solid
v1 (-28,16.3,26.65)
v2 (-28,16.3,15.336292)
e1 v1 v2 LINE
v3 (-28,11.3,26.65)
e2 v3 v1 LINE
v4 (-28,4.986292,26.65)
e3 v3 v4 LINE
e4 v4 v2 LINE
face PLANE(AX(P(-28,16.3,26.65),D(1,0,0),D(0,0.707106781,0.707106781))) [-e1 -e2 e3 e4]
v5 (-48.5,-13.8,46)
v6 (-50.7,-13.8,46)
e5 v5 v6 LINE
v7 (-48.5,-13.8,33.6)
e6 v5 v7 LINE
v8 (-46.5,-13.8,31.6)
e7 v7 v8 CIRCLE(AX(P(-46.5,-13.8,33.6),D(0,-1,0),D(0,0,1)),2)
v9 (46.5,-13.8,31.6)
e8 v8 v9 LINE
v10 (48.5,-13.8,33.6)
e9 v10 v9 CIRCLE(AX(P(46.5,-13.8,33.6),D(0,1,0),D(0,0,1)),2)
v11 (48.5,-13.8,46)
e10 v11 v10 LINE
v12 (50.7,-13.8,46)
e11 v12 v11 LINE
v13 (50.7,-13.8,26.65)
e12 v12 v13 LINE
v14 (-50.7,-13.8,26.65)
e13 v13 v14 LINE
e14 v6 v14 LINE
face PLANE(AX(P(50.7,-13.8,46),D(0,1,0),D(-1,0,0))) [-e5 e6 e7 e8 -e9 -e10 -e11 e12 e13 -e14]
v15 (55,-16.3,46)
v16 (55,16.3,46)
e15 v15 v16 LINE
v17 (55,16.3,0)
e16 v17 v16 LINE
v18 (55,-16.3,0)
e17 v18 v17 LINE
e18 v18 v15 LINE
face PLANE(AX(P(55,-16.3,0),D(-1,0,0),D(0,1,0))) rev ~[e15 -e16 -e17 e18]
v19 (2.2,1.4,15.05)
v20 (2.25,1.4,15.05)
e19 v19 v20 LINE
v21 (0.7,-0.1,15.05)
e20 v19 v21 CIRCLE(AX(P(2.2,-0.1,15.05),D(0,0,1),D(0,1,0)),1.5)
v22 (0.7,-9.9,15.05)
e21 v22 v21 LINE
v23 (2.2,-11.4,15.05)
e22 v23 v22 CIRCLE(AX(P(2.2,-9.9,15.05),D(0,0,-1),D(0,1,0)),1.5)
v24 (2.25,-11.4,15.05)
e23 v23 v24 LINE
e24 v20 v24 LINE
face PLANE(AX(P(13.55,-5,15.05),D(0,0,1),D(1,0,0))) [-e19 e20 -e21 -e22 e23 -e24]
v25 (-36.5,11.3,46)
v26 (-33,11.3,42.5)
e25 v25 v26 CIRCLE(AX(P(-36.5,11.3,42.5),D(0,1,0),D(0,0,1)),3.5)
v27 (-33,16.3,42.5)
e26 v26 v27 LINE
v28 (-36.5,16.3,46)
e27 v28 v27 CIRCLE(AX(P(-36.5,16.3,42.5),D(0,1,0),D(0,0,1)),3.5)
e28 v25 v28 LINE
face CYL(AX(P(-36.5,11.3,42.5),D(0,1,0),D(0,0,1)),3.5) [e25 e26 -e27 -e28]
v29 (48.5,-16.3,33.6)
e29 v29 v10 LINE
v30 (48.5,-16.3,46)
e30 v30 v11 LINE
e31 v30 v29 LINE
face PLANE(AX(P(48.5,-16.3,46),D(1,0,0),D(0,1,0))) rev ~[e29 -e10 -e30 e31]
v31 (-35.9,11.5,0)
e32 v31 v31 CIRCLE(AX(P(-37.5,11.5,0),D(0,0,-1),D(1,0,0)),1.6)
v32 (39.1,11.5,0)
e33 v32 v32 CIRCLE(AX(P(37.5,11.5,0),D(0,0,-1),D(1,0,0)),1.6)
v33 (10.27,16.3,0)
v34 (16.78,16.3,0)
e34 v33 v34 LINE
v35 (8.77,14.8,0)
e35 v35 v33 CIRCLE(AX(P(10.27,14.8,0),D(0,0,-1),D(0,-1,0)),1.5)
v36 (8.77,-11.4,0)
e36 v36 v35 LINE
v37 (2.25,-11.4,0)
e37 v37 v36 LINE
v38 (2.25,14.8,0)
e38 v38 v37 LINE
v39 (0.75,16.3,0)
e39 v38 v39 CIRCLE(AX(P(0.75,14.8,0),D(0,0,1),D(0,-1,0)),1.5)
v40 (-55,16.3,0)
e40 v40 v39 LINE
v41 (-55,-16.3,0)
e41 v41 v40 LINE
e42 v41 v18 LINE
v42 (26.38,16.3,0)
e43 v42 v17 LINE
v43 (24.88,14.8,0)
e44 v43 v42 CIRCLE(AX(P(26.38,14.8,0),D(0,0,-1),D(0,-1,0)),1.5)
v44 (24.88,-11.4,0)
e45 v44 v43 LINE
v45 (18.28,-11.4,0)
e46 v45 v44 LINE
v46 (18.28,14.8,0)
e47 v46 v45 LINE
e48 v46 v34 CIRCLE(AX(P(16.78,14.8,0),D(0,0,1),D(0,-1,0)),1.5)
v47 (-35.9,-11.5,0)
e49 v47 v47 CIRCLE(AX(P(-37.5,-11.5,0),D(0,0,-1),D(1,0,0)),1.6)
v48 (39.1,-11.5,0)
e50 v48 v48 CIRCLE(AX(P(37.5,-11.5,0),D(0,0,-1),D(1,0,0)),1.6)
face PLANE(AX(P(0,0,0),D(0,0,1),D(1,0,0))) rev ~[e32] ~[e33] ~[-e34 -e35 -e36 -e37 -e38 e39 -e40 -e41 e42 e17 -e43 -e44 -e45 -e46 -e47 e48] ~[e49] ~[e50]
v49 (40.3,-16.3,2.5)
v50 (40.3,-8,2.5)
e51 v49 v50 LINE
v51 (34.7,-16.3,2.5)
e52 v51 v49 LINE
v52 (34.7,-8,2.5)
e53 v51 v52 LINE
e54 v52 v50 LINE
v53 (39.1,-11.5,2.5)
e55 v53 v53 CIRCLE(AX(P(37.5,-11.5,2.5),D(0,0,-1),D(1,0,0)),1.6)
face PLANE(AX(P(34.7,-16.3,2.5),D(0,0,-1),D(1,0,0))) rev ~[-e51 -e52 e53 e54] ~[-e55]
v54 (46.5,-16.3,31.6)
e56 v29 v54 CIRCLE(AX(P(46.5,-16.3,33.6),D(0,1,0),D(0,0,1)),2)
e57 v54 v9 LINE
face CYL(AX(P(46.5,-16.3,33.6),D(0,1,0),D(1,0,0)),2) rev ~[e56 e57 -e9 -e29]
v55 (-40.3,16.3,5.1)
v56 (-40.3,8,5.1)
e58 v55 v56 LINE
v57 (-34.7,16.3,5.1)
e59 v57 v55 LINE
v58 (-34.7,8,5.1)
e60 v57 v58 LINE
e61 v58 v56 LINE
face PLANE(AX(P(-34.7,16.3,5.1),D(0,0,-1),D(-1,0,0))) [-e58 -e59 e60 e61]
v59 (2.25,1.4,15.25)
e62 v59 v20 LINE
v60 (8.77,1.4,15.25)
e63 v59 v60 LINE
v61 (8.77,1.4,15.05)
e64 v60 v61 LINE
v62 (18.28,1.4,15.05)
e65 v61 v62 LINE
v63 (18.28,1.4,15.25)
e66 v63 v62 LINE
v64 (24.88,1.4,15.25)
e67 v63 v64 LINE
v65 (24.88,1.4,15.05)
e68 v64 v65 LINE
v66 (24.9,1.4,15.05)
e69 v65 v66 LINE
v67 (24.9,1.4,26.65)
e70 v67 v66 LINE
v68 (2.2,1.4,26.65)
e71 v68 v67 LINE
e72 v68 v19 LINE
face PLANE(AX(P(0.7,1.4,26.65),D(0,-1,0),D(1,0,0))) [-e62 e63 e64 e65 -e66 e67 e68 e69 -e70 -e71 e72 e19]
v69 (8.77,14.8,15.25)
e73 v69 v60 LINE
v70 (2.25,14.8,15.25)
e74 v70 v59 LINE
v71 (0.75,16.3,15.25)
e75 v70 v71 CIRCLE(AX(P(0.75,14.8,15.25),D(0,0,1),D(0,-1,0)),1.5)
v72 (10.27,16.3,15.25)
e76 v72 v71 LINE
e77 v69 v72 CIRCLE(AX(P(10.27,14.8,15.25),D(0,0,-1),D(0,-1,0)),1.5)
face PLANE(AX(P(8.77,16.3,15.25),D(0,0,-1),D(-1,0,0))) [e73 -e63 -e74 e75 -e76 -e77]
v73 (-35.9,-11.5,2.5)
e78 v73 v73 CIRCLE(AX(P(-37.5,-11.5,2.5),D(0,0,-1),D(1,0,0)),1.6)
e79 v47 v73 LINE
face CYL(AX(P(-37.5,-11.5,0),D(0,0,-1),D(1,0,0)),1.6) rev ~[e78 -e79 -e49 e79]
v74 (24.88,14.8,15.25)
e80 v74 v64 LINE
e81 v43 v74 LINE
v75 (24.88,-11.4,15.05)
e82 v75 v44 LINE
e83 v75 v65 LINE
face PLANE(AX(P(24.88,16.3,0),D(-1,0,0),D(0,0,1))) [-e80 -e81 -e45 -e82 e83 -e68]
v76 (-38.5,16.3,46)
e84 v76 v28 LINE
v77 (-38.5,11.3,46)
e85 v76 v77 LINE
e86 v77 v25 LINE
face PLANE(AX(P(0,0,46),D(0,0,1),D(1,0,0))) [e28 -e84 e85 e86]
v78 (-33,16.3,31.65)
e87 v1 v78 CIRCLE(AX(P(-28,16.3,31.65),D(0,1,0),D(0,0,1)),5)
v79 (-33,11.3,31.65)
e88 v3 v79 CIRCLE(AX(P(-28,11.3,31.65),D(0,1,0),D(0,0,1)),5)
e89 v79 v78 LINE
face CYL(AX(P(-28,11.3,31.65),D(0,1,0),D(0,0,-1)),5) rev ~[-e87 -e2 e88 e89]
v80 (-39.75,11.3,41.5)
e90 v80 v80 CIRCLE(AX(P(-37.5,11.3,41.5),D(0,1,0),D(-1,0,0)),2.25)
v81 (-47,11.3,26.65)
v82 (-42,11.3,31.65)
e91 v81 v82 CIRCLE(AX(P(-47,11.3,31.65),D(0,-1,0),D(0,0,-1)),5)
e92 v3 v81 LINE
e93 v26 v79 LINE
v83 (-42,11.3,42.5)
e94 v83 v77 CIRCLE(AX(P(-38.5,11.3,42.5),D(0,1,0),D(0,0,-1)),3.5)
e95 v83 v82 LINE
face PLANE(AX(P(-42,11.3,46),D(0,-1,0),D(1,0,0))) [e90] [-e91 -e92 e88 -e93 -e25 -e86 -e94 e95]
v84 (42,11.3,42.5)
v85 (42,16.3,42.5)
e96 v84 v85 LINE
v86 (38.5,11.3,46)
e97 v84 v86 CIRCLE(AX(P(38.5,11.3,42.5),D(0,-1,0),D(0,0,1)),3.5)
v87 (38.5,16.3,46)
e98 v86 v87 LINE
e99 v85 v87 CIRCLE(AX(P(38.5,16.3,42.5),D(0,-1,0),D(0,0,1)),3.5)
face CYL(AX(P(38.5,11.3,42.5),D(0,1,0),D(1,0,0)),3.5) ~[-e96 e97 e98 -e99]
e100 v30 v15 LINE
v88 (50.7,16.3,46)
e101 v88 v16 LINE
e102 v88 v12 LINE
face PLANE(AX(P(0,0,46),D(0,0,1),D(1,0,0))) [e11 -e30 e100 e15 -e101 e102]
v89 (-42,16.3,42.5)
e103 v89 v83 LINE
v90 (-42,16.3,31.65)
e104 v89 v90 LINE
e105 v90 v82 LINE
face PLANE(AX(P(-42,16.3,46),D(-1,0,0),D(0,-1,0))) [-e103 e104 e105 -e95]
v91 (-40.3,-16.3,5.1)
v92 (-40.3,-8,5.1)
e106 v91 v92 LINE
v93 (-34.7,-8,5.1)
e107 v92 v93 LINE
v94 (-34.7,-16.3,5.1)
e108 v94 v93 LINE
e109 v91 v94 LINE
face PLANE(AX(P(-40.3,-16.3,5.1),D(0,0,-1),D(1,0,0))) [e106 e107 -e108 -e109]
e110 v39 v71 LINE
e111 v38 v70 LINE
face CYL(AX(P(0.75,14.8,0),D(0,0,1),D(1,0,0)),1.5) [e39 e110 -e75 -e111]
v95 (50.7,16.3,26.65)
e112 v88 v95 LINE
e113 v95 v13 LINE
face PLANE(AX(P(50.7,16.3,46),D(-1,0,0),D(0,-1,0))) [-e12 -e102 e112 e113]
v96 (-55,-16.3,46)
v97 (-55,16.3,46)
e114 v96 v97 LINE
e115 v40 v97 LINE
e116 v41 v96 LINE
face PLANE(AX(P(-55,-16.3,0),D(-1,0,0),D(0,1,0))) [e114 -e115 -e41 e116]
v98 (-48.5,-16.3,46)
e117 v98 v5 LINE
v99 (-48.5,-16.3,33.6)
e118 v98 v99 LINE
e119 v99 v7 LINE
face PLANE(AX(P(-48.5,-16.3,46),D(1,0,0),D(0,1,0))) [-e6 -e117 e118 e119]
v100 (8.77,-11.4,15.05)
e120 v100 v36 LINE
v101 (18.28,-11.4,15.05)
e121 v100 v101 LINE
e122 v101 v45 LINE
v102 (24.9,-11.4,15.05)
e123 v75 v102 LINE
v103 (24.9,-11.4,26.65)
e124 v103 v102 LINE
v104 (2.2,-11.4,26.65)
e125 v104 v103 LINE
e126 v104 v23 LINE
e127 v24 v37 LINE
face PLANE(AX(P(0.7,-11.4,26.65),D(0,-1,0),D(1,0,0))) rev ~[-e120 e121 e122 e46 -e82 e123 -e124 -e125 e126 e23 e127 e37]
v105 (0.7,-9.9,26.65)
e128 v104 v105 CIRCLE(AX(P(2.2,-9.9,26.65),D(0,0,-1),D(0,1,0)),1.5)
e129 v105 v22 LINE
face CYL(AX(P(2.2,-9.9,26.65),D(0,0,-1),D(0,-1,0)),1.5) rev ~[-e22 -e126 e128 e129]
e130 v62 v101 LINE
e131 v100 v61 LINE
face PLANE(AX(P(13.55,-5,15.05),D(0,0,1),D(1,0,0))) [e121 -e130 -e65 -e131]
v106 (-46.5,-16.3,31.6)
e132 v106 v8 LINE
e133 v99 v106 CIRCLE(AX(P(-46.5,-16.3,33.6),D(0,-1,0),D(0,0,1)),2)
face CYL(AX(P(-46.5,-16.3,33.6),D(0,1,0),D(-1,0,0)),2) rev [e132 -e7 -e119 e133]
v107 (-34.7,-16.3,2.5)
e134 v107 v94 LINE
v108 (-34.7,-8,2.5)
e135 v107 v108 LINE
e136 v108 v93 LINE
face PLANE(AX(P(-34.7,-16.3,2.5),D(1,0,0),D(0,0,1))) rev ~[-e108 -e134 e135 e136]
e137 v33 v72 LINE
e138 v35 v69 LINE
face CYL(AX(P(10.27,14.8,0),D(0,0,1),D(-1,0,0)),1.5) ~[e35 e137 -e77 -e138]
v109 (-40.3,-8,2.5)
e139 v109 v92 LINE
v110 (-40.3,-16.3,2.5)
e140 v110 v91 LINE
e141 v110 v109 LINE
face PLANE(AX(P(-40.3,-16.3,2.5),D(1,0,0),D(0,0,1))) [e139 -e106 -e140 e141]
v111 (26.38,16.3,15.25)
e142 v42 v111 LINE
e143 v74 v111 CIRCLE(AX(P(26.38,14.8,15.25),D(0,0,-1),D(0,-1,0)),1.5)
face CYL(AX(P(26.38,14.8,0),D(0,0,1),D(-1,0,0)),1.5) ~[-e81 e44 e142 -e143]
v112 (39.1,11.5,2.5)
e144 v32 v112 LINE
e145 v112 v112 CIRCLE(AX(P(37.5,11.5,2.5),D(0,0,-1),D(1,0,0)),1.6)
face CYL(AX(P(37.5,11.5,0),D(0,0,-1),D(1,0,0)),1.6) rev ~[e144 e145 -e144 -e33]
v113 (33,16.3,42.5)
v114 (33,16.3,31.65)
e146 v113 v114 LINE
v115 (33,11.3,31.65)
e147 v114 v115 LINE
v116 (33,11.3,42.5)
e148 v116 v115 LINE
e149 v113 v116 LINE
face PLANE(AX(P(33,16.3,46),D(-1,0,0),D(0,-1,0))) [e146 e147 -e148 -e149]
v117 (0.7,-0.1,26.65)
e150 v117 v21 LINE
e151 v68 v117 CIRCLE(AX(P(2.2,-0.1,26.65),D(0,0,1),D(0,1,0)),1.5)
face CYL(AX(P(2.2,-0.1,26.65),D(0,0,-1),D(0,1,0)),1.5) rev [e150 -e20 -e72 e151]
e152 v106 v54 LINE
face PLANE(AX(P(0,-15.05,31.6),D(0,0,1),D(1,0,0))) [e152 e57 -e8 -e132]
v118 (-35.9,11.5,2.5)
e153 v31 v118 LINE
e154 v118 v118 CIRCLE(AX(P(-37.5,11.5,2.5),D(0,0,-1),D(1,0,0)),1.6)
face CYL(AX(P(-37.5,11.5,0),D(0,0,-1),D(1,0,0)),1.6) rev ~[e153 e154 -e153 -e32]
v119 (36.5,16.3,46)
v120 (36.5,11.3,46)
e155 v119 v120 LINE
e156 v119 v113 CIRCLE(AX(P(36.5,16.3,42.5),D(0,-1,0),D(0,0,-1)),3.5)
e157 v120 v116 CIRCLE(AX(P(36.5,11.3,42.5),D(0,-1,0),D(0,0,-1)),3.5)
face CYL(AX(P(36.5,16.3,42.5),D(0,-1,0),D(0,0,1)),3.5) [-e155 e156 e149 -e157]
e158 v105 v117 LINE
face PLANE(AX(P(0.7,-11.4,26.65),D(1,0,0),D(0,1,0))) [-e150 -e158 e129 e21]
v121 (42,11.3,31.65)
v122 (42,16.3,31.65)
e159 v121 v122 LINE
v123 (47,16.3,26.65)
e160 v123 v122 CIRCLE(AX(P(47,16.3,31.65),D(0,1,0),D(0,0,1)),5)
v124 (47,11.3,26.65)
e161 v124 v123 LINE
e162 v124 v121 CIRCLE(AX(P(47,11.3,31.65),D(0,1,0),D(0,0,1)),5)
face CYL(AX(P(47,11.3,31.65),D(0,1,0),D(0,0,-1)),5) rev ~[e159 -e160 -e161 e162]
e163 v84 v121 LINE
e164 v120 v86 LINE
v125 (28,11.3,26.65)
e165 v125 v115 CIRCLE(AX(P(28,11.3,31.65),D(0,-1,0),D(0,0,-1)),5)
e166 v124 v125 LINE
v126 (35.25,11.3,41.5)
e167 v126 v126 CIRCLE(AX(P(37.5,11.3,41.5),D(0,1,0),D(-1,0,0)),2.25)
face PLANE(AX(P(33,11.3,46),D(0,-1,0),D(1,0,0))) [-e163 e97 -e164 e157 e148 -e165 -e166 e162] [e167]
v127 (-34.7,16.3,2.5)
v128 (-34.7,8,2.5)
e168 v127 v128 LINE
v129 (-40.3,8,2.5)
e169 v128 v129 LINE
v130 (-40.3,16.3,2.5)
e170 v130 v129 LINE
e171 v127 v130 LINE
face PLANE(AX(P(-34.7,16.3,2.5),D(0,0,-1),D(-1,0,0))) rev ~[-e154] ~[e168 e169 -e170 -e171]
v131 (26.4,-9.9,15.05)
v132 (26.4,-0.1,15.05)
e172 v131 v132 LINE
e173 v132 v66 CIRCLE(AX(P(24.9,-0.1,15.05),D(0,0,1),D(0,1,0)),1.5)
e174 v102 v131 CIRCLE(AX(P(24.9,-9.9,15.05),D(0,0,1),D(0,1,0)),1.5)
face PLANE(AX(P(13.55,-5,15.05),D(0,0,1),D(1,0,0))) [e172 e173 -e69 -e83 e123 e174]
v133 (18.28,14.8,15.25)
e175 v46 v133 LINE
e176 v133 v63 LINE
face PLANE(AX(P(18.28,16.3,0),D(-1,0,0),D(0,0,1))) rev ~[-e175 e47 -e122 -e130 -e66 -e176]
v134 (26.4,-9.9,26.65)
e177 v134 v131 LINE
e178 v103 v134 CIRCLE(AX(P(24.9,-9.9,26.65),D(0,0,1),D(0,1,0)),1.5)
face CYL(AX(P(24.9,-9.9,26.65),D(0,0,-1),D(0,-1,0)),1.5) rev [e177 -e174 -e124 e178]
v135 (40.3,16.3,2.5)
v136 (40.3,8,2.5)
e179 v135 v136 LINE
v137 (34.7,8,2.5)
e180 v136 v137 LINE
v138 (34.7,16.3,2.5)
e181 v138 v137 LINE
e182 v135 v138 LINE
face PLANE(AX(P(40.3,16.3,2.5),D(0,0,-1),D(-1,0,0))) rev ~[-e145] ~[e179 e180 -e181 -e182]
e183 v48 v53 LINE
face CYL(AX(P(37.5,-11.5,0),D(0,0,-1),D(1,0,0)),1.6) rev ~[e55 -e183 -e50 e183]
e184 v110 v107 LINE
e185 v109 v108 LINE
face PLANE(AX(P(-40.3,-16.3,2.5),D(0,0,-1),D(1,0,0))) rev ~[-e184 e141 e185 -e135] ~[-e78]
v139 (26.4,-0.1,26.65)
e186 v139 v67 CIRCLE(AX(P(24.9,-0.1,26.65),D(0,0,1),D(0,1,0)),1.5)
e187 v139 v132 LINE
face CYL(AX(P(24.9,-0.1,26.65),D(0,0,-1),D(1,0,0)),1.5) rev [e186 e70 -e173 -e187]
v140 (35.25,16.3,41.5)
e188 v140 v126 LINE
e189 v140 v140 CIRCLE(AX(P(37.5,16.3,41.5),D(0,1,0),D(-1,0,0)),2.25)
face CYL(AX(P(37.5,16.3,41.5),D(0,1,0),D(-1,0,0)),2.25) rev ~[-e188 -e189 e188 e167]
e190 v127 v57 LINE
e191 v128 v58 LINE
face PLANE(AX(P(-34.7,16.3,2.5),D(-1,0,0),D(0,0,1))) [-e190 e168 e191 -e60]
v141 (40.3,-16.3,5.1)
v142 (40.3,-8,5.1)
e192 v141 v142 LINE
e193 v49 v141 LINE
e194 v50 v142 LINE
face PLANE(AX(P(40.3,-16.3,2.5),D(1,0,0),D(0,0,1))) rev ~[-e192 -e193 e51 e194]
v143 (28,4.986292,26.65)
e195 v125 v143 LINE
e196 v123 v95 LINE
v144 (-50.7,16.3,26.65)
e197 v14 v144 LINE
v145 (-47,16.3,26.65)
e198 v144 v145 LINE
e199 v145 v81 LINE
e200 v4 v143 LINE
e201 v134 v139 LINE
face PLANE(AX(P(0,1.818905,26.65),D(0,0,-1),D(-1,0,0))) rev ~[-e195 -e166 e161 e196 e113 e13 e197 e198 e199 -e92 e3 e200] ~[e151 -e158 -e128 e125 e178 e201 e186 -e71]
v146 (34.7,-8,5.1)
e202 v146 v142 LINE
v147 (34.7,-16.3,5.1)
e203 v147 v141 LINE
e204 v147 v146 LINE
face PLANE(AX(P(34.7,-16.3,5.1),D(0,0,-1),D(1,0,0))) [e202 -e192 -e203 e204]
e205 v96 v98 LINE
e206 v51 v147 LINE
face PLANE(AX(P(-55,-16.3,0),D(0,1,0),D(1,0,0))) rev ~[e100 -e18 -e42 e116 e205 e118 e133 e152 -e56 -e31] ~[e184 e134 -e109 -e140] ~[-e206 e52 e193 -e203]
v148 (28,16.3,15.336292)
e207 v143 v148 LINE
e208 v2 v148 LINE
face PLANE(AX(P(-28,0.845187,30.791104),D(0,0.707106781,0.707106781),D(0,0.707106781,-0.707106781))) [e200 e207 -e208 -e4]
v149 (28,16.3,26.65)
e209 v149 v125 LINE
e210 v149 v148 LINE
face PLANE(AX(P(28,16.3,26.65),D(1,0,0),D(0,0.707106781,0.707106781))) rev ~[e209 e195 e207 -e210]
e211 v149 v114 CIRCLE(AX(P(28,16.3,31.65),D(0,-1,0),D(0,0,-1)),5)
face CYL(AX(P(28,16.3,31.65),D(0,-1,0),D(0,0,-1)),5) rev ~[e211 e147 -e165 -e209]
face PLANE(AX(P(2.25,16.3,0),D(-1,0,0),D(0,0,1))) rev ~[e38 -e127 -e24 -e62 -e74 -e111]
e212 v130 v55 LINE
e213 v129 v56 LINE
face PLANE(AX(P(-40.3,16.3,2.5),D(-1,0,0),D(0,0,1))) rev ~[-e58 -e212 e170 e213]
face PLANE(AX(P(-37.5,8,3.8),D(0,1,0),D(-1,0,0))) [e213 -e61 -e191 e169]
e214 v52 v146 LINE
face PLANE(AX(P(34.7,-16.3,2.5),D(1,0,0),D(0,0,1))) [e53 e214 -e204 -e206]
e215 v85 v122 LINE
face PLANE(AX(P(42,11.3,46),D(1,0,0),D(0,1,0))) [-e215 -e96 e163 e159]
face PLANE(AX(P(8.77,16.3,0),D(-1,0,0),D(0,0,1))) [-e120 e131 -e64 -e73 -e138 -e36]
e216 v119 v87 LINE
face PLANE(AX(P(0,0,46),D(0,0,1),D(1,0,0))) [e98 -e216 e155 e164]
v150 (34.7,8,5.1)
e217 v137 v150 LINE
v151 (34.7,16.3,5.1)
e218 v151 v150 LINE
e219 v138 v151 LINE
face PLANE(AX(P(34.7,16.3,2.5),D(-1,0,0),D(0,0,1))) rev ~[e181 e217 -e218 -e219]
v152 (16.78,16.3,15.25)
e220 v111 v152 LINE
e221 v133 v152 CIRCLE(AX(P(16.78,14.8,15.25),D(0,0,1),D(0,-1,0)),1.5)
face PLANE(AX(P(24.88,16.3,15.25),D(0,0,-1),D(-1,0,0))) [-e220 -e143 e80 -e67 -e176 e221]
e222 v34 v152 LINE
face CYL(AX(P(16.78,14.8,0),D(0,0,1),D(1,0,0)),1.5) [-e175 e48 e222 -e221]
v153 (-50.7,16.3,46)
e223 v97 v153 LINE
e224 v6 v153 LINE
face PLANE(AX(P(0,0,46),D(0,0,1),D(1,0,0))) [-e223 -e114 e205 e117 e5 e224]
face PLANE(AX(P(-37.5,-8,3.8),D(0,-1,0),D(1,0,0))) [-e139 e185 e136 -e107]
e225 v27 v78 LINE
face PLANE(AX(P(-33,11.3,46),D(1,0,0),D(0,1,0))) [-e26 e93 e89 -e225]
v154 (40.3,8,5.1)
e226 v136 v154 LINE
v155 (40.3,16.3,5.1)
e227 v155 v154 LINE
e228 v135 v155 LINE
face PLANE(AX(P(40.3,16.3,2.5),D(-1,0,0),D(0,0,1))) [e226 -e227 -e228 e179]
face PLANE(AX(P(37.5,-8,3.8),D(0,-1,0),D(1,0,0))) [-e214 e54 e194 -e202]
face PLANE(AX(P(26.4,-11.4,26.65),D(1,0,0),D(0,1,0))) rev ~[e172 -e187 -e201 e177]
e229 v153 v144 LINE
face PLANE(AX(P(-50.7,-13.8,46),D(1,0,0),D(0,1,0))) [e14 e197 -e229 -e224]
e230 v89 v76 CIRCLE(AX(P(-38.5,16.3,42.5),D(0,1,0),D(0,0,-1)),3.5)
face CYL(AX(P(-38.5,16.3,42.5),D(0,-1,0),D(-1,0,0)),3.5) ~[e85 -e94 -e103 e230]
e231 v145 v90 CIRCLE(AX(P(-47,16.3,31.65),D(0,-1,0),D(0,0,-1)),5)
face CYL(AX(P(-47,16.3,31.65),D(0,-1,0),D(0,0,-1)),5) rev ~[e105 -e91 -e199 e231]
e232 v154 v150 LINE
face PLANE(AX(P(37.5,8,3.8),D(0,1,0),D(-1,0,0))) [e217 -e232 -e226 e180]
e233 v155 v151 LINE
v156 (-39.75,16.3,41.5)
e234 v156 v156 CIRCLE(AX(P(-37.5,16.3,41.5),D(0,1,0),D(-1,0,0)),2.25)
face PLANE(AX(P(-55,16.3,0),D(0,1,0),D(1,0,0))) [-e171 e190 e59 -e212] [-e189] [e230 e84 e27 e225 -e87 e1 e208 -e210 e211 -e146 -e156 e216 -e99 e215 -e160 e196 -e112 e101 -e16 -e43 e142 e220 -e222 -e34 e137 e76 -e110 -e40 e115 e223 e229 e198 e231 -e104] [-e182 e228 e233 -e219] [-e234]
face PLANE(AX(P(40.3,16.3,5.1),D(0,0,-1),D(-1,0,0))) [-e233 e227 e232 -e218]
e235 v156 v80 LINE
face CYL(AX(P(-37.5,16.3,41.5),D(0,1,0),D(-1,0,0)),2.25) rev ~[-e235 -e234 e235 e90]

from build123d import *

# Parameters (mm, degrees)
SKETCH028_W     = 110
SKETCH028_H     = 32.6
PAD019_DEPTH    = 46
POCKET009_DEPTH = 19.35
SKETCH030_R     = 2.25
POCKET010_DEPTH = 5
FILLET008_R     = 3.5
SKETCH031_W     = 97
SKETCH031_H     = 2.5
POCKET011_DEPTH = 14.4
FILLET009_R     = 2
FILLET010_R     = 5
SKETCH032_W     = 25.7
SKETCH032_H     = 12.8
POCKET012_DEPTH = 11.6
SKETCH033_W     = 6.52
SKETCH033_H     = 12.8
SKETCH033_W_2   = 6.6
POCKET013_DEPTH = 22
SKETCH034_W     = 6.6
SKETCH034_H     = 15.25
SKETCH034_W_2   = 6.52
POCKET014_DEPTH = 17.55
FILLET011_R     = 1.5
SKETCH035_R     = 1.6
POCKET015_DEPTH = 5
SKETCH036_W     = 5.6
SKETCH036_H     = 2.6
POCKET016_DEPTH = 8.3
SKETCH037_W     = 5.6
SKETCH037_H     = 2.6
POCKET017_DEPTH = 8.3
PRISM_DEPTH     = 56


with BuildPart() as part:
    # Sketch028 → Pad019 (new body)
    with BuildSketch(Plane.XY):
        Rectangle(SKETCH028_W, SKETCH028_H)
    extrude(amount=PAD019_DEPTH)

    # Sketch029 (on Face6 of Pad019) → Pocket009 (cut)
    with BuildSketch(Plane.XY.offset(46)):
        Polygon((-50.7, 16.3), (-42, 16.3), (-42, 11.3), (-33, 11.3), (-33, 16.3), (33, 16.3), (33, 11.3), (42, 11.3), (42, 16.3), (50.7, 16.3), (50.7, -13.8), (-50.7, -13.8), align=None)
    extrude(amount=-POCKET009_DEPTH, mode=Mode.SUBTRACT)

    # Sketch030 (on Face1 of Pocket009) → Pocket010 (cut)
    with BuildSketch(Plane(origin=(0, 16.3, 0), x_dir=(-1, 0, 0), z_dir=(0, 1, 0))):
        with Locations((-37.5, 41.5)):
            Circle(SKETCH030_R)
        with Locations((37.5, 41.5)):
            Circle(SKETCH030_R)
    extrude(amount=-POCKET010_DEPTH, mode=Mode.SUBTRACT)

    # Fillet008
    fillet008_edges = [part.edges().sort_by_distance(p)[0] for p in [
        (33, 13.8, 46),
        (-33, 13.8, 46),
        (-42, 13.8, 46),
        (42, 13.8, 46),
    ]]
    fillet(fillet008_edges, radius=FILLET008_R)

    # Sketch031 (on Face8 of Fillet008) → Pocket011 (cut)
    with BuildSketch(Plane.XY.offset(46)):
        with Locations((0, -15.05)):
            Rectangle(SKETCH031_W, SKETCH031_H)
    extrude(amount=-POCKET011_DEPTH, mode=Mode.SUBTRACT)

    # Fillet009
    fillet009_edges = [part.edges().sort_by_distance(p)[0] for p in [
        (48.5, -15.05, 31.6),
        (-48.5, -15.05, 31.6),
    ]]
    fillet(fillet009_edges, radius=FILLET009_R)

    # Fillet010
    fillet010_edges = [part.edges().sort_by_distance(p)[0] for p in [
        (42, 13.8, 26.65),
        (-33, 13.8, 26.65),
        (33, 13.8, 26.65),
        (-42, 13.8, 26.65),
    ]]
    fillet(fillet010_edges, radius=FILLET010_R)

    # Sketch032 (on Face1 of Fillet010) → Pocket012 (cut)
    with BuildSketch(Plane.XY.offset(26.65)):
        with Locations((13.55, -5)):
            Rectangle(SKETCH032_W, SKETCH032_H)
    extrude(amount=-POCKET012_DEPTH, mode=Mode.SUBTRACT)

    # Sketch033 (on Face38 of Pocket012) → Pocket013 (cut)
    with BuildSketch(Plane.XY.offset(15.05)):
        with Locations((5.51, -5)):
            Rectangle(SKETCH033_W, SKETCH033_H)
        with Locations((21.58, -5)):
            Rectangle(SKETCH033_W_2, SKETCH033_H)
    extrude(amount=-POCKET013_DEPTH, mode=Mode.SUBTRACT)

    # Sketch034 (on Face2 of Pocket013) → Pocket014 (cut)
    with BuildSketch(Plane(origin=(0, 16.3, 0), x_dir=(-1, 0, 0), z_dir=(0, 1, 0))):
        with Locations((-21.58, 7.625)):
            Rectangle(SKETCH034_W, SKETCH034_H)
        with Locations((-5.51, 7.625)):
            Rectangle(SKETCH034_W_2, SKETCH034_H)
    extrude(amount=-POCKET014_DEPTH, mode=Mode.SUBTRACT)

    # Fillet011
    fillet011_edges = [part.edges().sort_by_distance(p)[0] for p in [
        (0.7, 1.4, 20.85),
        (26.4, -11.4, 20.85),
        (0.7, -11.4, 20.85),
        (26.4, 1.4, 20.85),
        (24.88, 16.3, 7.625),
        (18.28, 16.3, 7.625),
        (8.77, 16.3, 7.625),
        (2.25, 16.3, 7.625),
    ]]
    fillet(fillet011_edges, radius=FILLET011_R)

    # Sketch035 (on Face31 of Fillet011) → Pocket015 (cut)
    with BuildSketch(Plane(origin=(0, 0, 0), x_dir=(1, 0, 0), z_dir=(0, 0, -1))):
        with Locations((-37.5, 11.5)):
            Circle(SKETCH035_R)
        with Locations((-37.5, -11.5)):
            Circle(SKETCH035_R)
        with Locations((37.5, -11.5)):
            Circle(SKETCH035_R)
        with Locations((37.5, 11.5)):
            Circle(SKETCH035_R)
    extrude(amount=-POCKET015_DEPTH, mode=Mode.SUBTRACT)

    # Sketch036 (on Face10 of Pocket015) → Pocket016 (cut)
    with BuildSketch(Plane(origin=(0, 16.3, 0), x_dir=(-1, 0, 0), z_dir=(0, 1, 0))):
        with Locations((-37.5, 3.8)):
            Rectangle(SKETCH036_W, SKETCH036_H)
        with Locations((37.5, 3.8)):
            Rectangle(SKETCH036_W, SKETCH036_H)
    extrude(amount=-POCKET016_DEPTH, mode=Mode.SUBTRACT)

    # Sketch037 (on Face65 of Pocket015) → Pocket017 (cut)
    with BuildSketch(Plane.XZ.offset(16.3)):
        with Locations((-37.5, 3.8)):
            Rectangle(SKETCH037_W, SKETCH037_H)
        with Locations((37.5, 3.8)):
            Rectangle(SKETCH037_W, SKETCH037_H)
    extrude(amount=-POCKET017_DEPTH, mode=Mode.SUBTRACT)

    # Prism → Prism (cut)
    with BuildSketch(Plane(origin=(-28, 16.3, 26.65), x_dir=(0, 0.707107, 0.707107), z_dir=(1, 0, 0))):
        Polygon((16, 0), (-8, 13.856406), (-8, -13.856406), align=None)
    extrude(amount=PRISM_DEPTH, mode=Mode.SUBTRACT)


solid = part.part
